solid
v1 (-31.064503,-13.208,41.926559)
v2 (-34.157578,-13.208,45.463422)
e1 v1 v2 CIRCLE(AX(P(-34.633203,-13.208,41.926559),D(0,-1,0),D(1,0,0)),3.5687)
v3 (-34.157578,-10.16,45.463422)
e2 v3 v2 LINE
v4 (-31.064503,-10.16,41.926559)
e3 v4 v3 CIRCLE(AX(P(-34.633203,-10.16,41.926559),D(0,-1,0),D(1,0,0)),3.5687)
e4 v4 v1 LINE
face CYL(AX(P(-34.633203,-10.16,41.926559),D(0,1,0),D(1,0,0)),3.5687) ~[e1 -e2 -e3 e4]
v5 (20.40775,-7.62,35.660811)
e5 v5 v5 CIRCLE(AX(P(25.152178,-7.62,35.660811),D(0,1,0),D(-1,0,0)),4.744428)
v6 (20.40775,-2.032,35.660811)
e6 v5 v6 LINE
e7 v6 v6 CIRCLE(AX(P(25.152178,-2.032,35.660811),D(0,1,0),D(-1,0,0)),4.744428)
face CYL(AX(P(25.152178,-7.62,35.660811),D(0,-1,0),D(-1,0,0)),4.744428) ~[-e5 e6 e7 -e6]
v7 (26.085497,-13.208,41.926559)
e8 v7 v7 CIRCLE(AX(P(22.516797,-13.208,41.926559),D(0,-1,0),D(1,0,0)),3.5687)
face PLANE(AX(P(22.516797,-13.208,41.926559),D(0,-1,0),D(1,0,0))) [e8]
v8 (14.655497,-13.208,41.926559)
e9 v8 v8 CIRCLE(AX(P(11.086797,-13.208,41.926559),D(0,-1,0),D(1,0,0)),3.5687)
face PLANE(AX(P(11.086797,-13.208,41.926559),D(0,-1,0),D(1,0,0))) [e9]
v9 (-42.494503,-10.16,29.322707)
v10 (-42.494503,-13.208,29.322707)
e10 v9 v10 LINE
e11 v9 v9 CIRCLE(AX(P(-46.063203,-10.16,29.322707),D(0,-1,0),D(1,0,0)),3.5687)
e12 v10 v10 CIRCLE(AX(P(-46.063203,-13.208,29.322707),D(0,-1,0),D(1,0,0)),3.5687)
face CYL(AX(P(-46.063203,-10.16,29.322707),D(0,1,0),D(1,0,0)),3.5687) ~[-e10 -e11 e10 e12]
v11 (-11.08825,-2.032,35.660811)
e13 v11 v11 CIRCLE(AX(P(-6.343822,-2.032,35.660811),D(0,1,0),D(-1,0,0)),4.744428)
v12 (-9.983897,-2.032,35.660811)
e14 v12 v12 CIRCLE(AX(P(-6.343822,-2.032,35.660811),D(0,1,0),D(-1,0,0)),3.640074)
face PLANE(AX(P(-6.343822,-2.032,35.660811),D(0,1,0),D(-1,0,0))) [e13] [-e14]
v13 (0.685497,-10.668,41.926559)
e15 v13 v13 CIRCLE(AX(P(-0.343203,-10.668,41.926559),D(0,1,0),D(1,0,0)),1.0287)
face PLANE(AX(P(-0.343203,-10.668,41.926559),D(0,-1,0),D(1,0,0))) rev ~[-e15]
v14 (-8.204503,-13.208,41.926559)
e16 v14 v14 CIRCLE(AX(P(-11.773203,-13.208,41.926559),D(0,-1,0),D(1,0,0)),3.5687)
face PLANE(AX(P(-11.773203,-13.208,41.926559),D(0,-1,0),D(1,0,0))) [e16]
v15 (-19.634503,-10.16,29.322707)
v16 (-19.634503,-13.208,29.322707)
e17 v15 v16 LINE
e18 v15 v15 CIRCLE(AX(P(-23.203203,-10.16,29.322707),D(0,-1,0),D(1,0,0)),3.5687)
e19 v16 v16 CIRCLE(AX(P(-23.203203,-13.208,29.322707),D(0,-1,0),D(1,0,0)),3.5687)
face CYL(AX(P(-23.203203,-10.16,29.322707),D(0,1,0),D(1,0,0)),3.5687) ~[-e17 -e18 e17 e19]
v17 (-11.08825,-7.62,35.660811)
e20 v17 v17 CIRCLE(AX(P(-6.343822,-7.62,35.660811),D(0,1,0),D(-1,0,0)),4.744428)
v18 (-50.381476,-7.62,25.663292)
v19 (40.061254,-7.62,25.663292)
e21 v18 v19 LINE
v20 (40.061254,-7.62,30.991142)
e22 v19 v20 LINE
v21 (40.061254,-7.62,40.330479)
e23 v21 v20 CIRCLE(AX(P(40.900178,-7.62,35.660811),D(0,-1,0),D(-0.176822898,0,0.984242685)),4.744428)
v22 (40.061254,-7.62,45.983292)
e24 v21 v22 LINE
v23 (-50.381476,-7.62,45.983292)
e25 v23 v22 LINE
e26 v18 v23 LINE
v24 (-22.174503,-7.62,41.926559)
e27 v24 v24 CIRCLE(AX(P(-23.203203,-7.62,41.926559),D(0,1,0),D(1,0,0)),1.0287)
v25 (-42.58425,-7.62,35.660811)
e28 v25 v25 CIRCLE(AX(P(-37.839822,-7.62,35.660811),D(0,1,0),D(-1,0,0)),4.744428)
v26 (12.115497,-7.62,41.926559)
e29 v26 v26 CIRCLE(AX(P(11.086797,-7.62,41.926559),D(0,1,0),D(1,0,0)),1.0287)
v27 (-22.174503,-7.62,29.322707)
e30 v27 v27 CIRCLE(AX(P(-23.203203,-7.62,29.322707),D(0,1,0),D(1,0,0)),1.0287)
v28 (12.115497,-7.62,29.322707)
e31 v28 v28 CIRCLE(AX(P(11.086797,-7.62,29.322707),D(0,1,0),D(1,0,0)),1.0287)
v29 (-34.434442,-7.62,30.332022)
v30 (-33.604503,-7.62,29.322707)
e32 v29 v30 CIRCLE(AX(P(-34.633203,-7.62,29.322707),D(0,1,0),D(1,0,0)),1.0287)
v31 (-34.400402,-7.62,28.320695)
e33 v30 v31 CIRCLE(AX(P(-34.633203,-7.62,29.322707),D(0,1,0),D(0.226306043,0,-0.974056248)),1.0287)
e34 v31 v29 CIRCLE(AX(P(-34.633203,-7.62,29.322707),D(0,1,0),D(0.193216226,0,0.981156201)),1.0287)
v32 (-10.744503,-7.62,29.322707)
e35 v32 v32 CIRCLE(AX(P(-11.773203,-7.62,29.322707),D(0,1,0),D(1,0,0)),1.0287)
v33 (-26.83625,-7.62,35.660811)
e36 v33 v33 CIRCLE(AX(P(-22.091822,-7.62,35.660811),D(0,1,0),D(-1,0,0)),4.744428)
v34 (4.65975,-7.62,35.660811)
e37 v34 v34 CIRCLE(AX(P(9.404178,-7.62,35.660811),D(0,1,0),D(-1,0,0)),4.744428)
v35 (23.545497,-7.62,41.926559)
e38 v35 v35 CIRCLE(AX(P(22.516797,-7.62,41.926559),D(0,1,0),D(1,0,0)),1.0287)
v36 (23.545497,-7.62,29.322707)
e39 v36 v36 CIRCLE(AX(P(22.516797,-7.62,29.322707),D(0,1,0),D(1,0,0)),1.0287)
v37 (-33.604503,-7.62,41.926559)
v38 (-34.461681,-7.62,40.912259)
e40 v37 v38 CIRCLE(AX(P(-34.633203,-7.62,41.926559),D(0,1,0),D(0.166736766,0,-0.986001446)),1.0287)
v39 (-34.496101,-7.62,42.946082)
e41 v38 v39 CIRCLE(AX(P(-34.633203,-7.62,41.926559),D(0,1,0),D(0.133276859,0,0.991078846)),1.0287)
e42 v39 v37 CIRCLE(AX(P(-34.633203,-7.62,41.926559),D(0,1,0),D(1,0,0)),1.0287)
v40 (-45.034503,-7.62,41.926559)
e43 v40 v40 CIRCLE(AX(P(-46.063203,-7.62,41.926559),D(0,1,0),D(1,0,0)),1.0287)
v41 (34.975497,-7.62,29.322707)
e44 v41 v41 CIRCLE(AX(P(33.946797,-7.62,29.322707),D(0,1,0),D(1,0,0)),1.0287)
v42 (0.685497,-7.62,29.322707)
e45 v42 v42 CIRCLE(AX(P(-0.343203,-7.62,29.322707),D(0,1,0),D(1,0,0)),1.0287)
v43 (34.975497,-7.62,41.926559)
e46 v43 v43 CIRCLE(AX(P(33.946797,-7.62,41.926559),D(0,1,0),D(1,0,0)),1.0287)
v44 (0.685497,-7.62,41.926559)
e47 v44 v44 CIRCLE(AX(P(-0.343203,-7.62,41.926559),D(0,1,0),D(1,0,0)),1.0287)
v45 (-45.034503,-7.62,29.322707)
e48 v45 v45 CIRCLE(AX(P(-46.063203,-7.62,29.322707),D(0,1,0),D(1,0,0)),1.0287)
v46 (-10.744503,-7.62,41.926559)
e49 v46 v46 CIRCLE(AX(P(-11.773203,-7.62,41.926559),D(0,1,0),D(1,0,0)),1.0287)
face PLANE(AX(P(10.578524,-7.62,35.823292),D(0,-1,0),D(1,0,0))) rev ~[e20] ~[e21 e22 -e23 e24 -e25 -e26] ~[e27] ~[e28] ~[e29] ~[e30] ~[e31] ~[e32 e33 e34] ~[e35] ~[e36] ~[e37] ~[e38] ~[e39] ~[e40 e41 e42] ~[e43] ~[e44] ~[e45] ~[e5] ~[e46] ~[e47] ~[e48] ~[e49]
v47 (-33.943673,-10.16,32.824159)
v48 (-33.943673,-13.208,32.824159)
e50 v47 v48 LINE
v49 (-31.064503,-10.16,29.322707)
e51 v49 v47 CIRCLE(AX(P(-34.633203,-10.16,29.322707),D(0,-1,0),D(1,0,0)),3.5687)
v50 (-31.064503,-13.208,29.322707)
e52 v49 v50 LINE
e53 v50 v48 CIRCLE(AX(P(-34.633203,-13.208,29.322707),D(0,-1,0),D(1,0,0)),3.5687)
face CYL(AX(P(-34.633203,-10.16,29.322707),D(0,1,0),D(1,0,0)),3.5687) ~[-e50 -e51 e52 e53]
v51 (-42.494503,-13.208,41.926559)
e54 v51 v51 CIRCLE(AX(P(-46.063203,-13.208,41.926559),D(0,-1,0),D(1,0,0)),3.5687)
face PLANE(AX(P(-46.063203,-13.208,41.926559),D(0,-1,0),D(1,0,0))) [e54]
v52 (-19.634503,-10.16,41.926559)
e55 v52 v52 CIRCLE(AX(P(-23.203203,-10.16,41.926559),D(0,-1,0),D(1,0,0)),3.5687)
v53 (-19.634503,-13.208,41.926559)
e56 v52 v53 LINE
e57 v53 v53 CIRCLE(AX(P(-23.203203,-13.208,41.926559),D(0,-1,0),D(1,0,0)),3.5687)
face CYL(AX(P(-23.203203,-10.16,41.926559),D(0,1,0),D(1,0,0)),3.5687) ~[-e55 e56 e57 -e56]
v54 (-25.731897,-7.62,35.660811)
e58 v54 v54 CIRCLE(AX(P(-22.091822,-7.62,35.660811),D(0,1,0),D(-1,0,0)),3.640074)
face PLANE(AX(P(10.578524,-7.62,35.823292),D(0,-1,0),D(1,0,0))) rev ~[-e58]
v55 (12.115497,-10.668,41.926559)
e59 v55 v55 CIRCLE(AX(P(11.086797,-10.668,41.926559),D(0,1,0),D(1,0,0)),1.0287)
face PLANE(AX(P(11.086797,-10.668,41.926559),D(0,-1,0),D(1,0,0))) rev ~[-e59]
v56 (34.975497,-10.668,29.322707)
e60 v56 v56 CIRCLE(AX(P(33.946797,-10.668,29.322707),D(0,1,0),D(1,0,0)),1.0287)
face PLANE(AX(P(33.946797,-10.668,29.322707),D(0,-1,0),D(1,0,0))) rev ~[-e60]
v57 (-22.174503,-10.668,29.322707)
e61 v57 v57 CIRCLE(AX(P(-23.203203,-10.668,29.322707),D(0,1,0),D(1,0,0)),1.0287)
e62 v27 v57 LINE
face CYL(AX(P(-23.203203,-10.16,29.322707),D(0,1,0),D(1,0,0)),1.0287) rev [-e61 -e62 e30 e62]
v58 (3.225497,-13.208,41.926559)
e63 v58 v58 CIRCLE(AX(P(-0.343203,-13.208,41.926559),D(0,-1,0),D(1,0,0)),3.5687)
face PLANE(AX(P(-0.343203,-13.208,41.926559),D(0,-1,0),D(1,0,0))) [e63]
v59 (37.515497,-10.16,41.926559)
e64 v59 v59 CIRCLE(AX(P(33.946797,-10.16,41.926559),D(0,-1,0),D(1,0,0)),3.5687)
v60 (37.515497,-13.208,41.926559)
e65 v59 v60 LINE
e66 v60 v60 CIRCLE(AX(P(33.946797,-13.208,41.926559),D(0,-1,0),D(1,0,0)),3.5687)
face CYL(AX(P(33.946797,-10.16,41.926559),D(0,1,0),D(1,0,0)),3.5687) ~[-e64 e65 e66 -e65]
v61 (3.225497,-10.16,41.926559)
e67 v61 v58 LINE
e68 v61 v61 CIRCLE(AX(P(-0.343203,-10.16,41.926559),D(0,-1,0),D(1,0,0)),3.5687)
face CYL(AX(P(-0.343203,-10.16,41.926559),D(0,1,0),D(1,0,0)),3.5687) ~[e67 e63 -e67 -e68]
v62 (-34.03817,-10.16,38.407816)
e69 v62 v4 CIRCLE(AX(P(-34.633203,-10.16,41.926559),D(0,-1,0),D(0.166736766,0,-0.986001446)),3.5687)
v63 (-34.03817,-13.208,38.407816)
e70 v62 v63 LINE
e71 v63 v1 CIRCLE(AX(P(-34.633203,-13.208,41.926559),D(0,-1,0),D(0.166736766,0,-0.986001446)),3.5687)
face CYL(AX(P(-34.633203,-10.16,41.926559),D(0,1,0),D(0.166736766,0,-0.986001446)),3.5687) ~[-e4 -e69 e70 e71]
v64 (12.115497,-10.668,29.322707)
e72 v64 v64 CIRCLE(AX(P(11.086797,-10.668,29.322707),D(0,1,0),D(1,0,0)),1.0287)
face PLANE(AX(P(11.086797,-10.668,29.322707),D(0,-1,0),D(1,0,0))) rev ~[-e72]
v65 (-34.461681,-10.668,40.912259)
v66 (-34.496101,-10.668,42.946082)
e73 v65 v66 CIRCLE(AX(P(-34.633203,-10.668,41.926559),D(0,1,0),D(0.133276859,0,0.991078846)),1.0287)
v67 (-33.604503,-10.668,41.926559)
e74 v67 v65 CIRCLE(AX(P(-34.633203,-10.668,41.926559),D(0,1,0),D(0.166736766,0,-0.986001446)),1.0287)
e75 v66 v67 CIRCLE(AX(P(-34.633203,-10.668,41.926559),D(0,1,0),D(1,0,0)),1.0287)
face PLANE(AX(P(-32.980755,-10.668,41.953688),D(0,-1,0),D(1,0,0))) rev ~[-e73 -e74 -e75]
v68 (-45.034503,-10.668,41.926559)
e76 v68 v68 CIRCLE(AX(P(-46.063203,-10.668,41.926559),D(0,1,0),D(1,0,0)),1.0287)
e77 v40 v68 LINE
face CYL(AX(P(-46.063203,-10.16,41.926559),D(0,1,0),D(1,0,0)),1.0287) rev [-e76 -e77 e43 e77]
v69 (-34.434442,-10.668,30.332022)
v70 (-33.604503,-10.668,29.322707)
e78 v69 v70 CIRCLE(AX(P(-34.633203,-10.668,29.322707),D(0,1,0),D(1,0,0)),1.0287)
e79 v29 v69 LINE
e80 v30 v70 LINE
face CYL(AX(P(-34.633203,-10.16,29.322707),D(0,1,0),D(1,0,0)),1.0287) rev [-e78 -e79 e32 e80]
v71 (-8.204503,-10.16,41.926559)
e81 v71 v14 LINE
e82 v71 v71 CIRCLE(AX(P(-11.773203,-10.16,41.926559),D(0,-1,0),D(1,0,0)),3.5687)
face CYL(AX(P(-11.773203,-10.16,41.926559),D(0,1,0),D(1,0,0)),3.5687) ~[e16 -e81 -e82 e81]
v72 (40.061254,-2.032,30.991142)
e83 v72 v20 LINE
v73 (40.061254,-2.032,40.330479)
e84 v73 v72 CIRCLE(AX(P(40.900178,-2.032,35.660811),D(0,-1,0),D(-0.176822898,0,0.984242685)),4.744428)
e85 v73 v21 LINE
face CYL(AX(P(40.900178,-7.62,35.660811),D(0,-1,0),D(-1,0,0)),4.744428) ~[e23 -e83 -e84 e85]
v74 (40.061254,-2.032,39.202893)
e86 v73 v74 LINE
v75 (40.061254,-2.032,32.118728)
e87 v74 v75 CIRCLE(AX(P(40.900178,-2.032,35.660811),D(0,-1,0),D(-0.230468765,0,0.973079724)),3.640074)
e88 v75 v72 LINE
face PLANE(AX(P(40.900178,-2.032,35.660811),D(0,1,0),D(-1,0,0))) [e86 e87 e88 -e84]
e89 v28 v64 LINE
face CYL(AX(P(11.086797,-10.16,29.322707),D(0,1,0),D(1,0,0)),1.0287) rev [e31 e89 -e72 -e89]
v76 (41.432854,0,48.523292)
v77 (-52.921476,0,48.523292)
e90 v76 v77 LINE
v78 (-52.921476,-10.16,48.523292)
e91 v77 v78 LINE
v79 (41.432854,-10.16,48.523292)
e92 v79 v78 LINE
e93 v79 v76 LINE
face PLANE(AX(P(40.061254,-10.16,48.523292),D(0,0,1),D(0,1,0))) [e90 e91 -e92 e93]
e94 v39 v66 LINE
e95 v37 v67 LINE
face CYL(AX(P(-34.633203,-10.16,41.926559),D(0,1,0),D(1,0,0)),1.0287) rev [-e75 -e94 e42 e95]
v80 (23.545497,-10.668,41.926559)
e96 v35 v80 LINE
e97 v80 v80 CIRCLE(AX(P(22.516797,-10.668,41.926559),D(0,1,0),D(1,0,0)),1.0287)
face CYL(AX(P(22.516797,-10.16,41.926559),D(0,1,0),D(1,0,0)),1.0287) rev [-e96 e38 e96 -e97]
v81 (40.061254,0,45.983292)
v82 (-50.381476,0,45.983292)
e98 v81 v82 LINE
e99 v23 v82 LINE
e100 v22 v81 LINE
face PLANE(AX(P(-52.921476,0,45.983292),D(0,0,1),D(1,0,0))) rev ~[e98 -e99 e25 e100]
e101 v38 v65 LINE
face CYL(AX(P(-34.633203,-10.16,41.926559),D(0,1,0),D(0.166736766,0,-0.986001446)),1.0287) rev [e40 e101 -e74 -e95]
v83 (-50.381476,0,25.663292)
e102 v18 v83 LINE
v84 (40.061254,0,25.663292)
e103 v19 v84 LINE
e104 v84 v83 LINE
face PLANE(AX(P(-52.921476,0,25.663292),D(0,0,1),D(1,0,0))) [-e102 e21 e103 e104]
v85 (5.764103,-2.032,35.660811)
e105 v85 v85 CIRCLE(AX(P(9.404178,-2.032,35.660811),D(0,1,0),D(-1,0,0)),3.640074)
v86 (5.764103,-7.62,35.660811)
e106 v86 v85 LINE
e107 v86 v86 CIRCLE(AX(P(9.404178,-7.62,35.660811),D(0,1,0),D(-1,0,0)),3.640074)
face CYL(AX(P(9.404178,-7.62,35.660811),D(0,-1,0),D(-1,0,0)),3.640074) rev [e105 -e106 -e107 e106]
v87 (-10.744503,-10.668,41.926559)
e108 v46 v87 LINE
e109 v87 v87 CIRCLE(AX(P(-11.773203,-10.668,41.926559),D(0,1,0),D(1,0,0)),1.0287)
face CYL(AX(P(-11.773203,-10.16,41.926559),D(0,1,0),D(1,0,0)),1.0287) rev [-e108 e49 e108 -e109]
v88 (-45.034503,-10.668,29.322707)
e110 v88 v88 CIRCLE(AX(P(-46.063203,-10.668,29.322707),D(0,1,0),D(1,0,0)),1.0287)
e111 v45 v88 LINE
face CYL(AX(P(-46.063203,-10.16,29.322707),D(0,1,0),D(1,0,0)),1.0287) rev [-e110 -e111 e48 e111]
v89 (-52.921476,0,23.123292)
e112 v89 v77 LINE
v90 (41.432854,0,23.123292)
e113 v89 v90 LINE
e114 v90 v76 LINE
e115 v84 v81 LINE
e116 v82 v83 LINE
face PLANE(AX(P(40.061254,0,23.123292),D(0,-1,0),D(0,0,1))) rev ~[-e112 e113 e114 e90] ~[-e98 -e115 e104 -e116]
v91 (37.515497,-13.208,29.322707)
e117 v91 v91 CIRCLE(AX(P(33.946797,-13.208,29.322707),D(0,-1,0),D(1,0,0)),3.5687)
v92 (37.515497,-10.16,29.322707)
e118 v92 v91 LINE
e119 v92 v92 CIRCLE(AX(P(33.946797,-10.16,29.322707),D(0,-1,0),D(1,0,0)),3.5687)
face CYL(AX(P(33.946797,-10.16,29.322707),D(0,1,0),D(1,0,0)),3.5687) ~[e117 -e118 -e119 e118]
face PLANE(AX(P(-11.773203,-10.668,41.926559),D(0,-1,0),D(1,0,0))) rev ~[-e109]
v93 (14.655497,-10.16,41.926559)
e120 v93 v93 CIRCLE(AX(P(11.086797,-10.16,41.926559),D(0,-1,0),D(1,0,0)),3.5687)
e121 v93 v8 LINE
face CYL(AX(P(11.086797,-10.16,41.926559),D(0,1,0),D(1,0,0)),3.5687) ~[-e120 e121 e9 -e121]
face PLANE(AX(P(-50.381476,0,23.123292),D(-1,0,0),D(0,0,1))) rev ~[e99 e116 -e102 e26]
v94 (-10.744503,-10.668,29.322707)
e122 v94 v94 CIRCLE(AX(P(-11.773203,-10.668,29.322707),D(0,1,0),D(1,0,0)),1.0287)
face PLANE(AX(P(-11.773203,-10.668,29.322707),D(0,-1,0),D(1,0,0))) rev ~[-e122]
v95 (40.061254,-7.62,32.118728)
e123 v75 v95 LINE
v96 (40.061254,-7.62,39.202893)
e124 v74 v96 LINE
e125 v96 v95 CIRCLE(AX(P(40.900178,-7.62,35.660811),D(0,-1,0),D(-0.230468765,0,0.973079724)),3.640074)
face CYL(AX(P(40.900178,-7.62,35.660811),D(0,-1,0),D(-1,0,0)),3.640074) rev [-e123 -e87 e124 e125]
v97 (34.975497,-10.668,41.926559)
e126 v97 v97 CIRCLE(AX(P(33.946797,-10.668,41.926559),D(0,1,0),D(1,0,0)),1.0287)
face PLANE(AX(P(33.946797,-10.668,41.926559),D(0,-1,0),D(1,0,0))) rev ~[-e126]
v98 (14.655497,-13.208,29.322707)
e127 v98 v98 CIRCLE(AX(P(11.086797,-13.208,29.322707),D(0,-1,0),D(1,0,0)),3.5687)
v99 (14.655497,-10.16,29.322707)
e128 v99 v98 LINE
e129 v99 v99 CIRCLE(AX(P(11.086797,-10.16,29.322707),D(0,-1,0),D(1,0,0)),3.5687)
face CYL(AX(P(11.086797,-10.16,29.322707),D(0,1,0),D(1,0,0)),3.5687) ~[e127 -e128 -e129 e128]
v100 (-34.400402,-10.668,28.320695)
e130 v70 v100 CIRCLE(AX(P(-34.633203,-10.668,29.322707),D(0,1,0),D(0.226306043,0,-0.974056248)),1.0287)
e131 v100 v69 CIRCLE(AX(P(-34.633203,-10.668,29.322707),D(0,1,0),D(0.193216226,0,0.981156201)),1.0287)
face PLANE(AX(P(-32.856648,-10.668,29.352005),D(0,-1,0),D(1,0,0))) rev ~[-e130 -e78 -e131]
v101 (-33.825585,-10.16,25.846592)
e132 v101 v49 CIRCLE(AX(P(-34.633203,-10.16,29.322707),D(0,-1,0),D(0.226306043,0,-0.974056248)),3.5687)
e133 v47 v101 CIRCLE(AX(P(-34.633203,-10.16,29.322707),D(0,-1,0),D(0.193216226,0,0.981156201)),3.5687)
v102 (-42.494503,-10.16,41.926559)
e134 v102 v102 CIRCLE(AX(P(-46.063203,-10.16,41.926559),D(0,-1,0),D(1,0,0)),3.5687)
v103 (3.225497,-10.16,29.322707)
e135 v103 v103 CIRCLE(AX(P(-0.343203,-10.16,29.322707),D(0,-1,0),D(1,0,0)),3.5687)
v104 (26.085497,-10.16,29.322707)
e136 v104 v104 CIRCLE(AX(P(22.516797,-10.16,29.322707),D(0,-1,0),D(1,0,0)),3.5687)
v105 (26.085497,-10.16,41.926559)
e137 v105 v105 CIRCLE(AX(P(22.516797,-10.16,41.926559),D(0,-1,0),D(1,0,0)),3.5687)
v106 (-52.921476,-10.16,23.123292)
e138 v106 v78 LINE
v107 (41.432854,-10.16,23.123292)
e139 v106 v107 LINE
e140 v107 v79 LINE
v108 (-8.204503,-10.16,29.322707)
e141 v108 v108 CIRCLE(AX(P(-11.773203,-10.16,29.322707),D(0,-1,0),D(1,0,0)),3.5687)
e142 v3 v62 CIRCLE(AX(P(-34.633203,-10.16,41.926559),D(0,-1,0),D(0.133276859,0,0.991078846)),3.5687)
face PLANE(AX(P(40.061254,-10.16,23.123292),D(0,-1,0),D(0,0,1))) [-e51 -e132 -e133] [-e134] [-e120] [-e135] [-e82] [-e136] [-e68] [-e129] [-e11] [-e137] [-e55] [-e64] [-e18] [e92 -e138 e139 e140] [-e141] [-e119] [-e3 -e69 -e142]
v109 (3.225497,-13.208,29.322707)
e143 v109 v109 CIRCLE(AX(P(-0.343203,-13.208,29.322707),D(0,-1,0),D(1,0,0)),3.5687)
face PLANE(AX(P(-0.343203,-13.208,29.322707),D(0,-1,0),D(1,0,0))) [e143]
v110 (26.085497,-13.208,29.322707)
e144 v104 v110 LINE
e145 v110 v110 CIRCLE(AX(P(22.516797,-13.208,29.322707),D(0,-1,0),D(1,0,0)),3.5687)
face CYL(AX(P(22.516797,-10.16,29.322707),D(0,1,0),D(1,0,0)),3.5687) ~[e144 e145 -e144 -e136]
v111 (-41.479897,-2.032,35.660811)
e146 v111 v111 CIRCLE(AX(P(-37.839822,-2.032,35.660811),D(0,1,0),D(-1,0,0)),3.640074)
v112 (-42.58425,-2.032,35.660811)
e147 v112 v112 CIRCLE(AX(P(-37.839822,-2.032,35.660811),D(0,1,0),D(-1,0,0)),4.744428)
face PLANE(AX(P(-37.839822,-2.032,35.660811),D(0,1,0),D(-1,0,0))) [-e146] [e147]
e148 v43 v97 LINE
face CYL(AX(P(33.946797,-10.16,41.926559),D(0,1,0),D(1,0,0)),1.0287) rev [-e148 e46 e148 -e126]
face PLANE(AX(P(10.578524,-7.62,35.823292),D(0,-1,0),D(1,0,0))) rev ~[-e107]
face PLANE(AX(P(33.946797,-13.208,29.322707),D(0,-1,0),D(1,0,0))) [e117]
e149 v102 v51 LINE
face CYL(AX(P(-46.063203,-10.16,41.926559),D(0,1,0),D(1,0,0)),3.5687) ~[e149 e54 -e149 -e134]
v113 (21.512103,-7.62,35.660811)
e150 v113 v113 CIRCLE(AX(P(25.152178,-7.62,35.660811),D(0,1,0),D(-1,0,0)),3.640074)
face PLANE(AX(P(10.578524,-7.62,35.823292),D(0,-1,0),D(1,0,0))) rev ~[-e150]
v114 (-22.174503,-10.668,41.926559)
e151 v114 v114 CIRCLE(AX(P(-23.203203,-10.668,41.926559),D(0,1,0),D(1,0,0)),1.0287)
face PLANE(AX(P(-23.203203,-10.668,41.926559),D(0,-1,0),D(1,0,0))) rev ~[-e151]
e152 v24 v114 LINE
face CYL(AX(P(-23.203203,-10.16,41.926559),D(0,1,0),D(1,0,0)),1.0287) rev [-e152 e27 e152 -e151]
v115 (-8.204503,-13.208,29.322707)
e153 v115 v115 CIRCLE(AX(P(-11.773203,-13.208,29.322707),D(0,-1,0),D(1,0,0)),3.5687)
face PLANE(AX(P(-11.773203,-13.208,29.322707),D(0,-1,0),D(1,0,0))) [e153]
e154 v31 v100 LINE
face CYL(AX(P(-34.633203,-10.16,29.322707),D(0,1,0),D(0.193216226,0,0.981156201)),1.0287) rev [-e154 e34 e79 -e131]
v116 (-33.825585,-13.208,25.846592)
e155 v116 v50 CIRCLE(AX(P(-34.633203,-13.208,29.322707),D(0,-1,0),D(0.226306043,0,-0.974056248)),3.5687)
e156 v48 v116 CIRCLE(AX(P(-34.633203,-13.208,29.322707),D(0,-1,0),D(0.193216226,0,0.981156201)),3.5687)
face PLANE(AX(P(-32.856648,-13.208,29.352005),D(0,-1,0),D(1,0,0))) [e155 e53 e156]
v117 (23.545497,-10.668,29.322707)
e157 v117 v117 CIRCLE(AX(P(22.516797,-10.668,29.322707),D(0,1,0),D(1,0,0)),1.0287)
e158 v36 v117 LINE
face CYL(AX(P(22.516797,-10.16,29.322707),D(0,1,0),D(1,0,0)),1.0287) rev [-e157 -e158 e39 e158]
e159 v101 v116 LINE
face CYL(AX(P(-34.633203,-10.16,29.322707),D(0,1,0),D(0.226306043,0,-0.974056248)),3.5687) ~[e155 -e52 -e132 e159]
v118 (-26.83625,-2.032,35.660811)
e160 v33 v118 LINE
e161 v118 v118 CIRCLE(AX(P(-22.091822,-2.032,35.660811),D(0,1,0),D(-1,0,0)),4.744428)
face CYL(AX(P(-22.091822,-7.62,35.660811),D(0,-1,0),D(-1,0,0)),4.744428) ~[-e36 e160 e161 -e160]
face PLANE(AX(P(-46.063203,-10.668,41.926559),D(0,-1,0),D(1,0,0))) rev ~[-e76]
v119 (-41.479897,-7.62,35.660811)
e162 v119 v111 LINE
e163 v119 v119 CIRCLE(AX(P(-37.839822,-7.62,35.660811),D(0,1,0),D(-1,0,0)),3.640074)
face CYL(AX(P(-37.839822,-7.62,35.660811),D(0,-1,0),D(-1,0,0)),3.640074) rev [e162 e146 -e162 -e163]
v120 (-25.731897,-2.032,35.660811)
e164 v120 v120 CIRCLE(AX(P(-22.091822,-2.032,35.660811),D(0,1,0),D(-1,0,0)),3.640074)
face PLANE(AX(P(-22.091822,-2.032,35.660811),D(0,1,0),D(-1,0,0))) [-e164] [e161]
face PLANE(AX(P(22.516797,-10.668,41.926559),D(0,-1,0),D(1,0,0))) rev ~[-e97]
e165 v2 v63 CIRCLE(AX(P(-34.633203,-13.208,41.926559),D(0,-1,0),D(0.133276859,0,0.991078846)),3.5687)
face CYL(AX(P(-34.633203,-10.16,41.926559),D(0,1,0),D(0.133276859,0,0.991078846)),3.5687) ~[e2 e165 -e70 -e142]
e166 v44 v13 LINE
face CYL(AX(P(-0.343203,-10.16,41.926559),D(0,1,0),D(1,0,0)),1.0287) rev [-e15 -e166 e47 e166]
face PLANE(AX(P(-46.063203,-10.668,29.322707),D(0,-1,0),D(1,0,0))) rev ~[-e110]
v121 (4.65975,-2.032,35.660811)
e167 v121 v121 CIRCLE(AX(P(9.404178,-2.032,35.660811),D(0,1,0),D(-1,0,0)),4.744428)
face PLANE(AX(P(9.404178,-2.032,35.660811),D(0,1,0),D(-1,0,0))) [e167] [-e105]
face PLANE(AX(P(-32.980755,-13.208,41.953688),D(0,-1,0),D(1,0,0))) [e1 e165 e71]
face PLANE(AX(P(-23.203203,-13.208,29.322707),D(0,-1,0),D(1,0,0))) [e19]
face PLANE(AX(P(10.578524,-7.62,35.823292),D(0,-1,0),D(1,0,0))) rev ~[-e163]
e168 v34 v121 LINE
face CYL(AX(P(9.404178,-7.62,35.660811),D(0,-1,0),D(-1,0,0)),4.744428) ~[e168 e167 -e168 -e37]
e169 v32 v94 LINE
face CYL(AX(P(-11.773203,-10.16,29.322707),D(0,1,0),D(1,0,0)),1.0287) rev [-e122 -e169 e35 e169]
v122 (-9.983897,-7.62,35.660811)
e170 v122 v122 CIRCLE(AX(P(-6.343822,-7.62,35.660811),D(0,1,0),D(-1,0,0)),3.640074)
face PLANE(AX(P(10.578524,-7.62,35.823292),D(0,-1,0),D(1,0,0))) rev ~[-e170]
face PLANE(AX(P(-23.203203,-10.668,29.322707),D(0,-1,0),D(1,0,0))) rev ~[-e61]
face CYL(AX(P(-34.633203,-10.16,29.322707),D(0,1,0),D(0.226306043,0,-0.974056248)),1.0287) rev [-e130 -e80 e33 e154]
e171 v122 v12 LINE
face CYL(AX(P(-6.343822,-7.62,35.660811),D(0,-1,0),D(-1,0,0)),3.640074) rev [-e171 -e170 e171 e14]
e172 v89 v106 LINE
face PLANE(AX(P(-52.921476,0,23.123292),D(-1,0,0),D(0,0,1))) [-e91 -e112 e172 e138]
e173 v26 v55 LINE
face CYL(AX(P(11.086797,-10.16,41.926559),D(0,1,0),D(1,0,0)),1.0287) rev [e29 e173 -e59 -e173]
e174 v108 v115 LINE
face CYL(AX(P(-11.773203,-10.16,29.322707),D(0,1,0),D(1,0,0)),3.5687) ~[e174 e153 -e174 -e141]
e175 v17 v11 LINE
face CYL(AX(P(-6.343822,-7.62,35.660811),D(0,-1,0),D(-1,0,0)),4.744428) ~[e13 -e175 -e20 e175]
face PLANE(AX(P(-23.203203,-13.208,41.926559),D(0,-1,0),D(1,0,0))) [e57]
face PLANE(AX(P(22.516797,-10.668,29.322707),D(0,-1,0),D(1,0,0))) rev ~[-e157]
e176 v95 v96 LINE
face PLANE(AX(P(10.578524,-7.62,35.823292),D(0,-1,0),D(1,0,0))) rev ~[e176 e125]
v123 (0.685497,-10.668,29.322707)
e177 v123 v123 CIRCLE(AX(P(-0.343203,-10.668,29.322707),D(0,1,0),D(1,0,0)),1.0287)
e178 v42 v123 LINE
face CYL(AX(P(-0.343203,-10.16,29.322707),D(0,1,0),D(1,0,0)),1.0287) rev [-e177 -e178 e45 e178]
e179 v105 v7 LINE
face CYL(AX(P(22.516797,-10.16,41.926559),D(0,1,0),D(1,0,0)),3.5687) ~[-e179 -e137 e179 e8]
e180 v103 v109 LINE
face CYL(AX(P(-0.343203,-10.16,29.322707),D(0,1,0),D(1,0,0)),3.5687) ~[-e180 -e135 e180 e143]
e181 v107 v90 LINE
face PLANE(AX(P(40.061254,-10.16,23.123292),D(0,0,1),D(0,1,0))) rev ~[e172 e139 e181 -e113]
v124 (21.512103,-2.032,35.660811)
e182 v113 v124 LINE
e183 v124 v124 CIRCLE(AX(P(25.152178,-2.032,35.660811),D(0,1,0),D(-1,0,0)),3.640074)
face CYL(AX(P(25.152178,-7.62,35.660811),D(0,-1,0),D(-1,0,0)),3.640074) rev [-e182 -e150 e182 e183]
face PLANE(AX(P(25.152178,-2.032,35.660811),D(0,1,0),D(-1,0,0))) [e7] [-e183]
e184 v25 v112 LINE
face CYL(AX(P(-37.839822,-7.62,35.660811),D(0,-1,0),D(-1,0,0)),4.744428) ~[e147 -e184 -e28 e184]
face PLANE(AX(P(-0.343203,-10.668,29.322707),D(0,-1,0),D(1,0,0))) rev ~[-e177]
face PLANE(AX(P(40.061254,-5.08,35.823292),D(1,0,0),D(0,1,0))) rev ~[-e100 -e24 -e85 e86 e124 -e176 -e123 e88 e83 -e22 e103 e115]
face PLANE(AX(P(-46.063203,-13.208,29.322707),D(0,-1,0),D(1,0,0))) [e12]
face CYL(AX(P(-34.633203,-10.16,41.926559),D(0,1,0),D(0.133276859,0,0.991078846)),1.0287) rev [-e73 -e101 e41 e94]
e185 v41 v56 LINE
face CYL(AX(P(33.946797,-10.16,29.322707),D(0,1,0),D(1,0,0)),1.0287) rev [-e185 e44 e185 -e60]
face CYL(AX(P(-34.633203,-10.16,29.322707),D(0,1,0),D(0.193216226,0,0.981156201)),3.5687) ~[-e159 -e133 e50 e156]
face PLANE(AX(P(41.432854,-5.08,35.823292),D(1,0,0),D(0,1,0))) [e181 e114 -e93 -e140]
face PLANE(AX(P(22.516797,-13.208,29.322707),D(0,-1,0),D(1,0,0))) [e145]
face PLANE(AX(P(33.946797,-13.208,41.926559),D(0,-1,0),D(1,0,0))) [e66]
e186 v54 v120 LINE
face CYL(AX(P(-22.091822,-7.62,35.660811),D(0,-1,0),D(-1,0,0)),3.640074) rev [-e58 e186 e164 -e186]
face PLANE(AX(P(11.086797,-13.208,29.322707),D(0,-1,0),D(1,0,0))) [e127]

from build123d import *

# Parameters (mm, degrees)
F0_W      = 127
F0_H      = 25.4
F1_DEPTH  = 10.16
F2_R      = 3.5687
F3_DEPTH  = 3.048
F4_T      = -2.54
F5_R      = 4.7444277968
F5_R_2    = 3.6400744996
F6_DEPTH  = 5.588
F7_W      = 34.0172694892
F7_H      = 25.4
F8_DEPTH  = 25.4
F9_W      = 10.16
F9_H      = 25.4
F10_DEPTH = 1.3716


with BuildPart() as f1:
    # F0 (on Front) → F1 (new body)
    with BuildSketch(Plane.XZ):
        with Locations((10.5785235435, 35.8232918932)):
            Rectangle(F0_W, F0_H)
    extrude(amount=F1_DEPTH)

    # F2 (on face) → F3 (join)
    with BuildSketch(Plane.XZ.offset(10.16)):
        with Locations((-46.0632033646, 41.9265590608)):
            Circle(F2_R)
        with Locations((-46.0632033646, 29.322706577)):
            Circle(F2_R)
        with BuildLine():
            ThreePointArc((-31.0645033646, 41.9265590608), (-31.9468505317, 44.2758415358), (-34.1575782363, 45.4634221381))
            Line((-34.1575782363, 45.4634221381), (-34.0381698666, 38.4078157019))
            ThreePointArc((-34.0381698666, 38.4078157019), (-31.9074818331, 39.6230700066), (-31.0645033646, 41.9265590608))
        make_face()
        with BuildLine():
            ThreePointArc((-31.0645033646, 29.322706577), (-31.8767248088, 31.5892999815), (-33.9436726204, 32.8241587104))
            Line((-33.9436726204, 32.8241587104), (-33.8255849878, 25.8465920439))
            ThreePointArc((-33.8255849878, 25.8465920439), (-31.8387653718, 27.1030813847), (-31.0645033646, 29.322706577))
        make_face()
        with BuildLine():
            Line((-33.8255849878, 25.8465920439), (-33.9436726204, 32.8241587104))
            ThreePointArc((-33.9436726204, 32.8241587104), (-38.2013924038, 29.2623189066), (-33.8255849878, 25.8465920439))
        make_face()
        with BuildLine():
            Line((-34.0381698666, 38.4078157019), (-34.1575782363, 45.4634221381))
            ThreePointArc((-34.1575782363, 45.4634221381), (-38.2013924038, 41.8661713904), (-34.0381698666, 38.4078157019))
        make_face()
        with Locations((-23.2032033646, 41.9265590608)):
            Circle(F2_R)
        with Locations((-23.2032033646, 29.322706577)):
            Circle(F2_R)
        with Locations((-11.7732033646, 41.9265590608)):
            Circle(F2_R)
        with Locations((-11.7732033646, 29.322706577)):
            Circle(F2_R)
        with Locations((-0.3432033646, 41.9265590608)):
            Circle(F2_R)
        with Locations((-0.3432033646, 29.322706577)):
            Circle(F2_R)
        with Locations((11.0867966354, 41.9265590608)):
            Circle(F2_R)
        with Locations((11.0867966354, 29.322706577)):
            Circle(F2_R)
        with Locations((22.5167966354, 41.9265590608)):
            Circle(F2_R)
        with Locations((22.5167966354, 29.322706577)):
            Circle(F2_R)
        with Locations((33.9467966354, 41.9265590608)):
            Circle(F2_R)
        with Locations((33.9467966354, 29.322706577)):
            Circle(F2_R)
    extrude(amount=F3_DEPTH)

    # F4
    f4_openings = [f1.faces().sort_by_distance(p)[0] for p in [
        (10.578524, 0, 35.823292),
    ]]
    offset(amount=F4_T, openings=f4_openings, kind=Kind.INTERSECTION)

    # F5 (on face) → F6 (join)
    with BuildSketch(Plane(origin=(0, -7.62, 0), x_dir=(-1, 0, 0), z_dir=(0, 1, 0))):
        with Locations((37.8398224711, 35.6608107686)):
            Circle(F5_R)
        with Locations((37.8398224711, 35.6608107686)):
            Circle(F5_R_2, mode=Mode.SUBTRACT)
        with Locations((22.0918224711, 35.6608107686)):
            Circle(F5_R)
        with Locations((22.0918224711, 35.6608107686)):
            Circle(F5_R_2, mode=Mode.SUBTRACT)
        with Locations((6.3438224711, 35.6608107686)):
            Circle(F5_R)
        with Locations((6.3438224711, 35.6608107686)):
            Circle(F5_R_2, mode=Mode.SUBTRACT)
        with Locations((-9.4041775289, 35.6608107686)):
            Circle(F5_R)
        with Locations((-9.4041775289, 35.6608107686)):
            Circle(F5_R_2, mode=Mode.SUBTRACT)
        with Locations((-25.1521775289, 35.6608107686)):
            Circle(F5_R)
        with Locations((-25.1521775289, 35.6608107686)):
            Circle(F5_R_2, mode=Mode.SUBTRACT)
        with Locations((-40.9001775289, 35.6608107686)):
            Circle(F5_R)
        with Locations((-40.9001775289, 35.6608107686)):
            Circle(F5_R_2, mode=Mode.SUBTRACT)
        with Locations((-56.6481775289, 35.6608107686)):
            Circle(F5_R)
        with Locations((-56.6481775289, 35.6608107686)):
            Circle(F5_R_2, mode=Mode.SUBTRACT)
    extrude(amount=F6_DEPTH)

    # F7 (on face) → F8 (cut)
    with BuildSketch(Plane.XZ.offset(10.16)):
        with Locations((57.0698887989, 35.8232918932)):
            Rectangle(F7_W, F7_H)
    extrude(amount=-F8_DEPTH, mode=Mode.SUBTRACT)

    # F9 (on face) → F10 (join)
    with BuildSketch(Plane.YZ.offset(40.0612540543)):
        with Locations((-5.08, 35.8232918932)):
            Rectangle(F9_W, F9_H)
    extrude(amount=F10_DEPTH)


solid = f1.part
